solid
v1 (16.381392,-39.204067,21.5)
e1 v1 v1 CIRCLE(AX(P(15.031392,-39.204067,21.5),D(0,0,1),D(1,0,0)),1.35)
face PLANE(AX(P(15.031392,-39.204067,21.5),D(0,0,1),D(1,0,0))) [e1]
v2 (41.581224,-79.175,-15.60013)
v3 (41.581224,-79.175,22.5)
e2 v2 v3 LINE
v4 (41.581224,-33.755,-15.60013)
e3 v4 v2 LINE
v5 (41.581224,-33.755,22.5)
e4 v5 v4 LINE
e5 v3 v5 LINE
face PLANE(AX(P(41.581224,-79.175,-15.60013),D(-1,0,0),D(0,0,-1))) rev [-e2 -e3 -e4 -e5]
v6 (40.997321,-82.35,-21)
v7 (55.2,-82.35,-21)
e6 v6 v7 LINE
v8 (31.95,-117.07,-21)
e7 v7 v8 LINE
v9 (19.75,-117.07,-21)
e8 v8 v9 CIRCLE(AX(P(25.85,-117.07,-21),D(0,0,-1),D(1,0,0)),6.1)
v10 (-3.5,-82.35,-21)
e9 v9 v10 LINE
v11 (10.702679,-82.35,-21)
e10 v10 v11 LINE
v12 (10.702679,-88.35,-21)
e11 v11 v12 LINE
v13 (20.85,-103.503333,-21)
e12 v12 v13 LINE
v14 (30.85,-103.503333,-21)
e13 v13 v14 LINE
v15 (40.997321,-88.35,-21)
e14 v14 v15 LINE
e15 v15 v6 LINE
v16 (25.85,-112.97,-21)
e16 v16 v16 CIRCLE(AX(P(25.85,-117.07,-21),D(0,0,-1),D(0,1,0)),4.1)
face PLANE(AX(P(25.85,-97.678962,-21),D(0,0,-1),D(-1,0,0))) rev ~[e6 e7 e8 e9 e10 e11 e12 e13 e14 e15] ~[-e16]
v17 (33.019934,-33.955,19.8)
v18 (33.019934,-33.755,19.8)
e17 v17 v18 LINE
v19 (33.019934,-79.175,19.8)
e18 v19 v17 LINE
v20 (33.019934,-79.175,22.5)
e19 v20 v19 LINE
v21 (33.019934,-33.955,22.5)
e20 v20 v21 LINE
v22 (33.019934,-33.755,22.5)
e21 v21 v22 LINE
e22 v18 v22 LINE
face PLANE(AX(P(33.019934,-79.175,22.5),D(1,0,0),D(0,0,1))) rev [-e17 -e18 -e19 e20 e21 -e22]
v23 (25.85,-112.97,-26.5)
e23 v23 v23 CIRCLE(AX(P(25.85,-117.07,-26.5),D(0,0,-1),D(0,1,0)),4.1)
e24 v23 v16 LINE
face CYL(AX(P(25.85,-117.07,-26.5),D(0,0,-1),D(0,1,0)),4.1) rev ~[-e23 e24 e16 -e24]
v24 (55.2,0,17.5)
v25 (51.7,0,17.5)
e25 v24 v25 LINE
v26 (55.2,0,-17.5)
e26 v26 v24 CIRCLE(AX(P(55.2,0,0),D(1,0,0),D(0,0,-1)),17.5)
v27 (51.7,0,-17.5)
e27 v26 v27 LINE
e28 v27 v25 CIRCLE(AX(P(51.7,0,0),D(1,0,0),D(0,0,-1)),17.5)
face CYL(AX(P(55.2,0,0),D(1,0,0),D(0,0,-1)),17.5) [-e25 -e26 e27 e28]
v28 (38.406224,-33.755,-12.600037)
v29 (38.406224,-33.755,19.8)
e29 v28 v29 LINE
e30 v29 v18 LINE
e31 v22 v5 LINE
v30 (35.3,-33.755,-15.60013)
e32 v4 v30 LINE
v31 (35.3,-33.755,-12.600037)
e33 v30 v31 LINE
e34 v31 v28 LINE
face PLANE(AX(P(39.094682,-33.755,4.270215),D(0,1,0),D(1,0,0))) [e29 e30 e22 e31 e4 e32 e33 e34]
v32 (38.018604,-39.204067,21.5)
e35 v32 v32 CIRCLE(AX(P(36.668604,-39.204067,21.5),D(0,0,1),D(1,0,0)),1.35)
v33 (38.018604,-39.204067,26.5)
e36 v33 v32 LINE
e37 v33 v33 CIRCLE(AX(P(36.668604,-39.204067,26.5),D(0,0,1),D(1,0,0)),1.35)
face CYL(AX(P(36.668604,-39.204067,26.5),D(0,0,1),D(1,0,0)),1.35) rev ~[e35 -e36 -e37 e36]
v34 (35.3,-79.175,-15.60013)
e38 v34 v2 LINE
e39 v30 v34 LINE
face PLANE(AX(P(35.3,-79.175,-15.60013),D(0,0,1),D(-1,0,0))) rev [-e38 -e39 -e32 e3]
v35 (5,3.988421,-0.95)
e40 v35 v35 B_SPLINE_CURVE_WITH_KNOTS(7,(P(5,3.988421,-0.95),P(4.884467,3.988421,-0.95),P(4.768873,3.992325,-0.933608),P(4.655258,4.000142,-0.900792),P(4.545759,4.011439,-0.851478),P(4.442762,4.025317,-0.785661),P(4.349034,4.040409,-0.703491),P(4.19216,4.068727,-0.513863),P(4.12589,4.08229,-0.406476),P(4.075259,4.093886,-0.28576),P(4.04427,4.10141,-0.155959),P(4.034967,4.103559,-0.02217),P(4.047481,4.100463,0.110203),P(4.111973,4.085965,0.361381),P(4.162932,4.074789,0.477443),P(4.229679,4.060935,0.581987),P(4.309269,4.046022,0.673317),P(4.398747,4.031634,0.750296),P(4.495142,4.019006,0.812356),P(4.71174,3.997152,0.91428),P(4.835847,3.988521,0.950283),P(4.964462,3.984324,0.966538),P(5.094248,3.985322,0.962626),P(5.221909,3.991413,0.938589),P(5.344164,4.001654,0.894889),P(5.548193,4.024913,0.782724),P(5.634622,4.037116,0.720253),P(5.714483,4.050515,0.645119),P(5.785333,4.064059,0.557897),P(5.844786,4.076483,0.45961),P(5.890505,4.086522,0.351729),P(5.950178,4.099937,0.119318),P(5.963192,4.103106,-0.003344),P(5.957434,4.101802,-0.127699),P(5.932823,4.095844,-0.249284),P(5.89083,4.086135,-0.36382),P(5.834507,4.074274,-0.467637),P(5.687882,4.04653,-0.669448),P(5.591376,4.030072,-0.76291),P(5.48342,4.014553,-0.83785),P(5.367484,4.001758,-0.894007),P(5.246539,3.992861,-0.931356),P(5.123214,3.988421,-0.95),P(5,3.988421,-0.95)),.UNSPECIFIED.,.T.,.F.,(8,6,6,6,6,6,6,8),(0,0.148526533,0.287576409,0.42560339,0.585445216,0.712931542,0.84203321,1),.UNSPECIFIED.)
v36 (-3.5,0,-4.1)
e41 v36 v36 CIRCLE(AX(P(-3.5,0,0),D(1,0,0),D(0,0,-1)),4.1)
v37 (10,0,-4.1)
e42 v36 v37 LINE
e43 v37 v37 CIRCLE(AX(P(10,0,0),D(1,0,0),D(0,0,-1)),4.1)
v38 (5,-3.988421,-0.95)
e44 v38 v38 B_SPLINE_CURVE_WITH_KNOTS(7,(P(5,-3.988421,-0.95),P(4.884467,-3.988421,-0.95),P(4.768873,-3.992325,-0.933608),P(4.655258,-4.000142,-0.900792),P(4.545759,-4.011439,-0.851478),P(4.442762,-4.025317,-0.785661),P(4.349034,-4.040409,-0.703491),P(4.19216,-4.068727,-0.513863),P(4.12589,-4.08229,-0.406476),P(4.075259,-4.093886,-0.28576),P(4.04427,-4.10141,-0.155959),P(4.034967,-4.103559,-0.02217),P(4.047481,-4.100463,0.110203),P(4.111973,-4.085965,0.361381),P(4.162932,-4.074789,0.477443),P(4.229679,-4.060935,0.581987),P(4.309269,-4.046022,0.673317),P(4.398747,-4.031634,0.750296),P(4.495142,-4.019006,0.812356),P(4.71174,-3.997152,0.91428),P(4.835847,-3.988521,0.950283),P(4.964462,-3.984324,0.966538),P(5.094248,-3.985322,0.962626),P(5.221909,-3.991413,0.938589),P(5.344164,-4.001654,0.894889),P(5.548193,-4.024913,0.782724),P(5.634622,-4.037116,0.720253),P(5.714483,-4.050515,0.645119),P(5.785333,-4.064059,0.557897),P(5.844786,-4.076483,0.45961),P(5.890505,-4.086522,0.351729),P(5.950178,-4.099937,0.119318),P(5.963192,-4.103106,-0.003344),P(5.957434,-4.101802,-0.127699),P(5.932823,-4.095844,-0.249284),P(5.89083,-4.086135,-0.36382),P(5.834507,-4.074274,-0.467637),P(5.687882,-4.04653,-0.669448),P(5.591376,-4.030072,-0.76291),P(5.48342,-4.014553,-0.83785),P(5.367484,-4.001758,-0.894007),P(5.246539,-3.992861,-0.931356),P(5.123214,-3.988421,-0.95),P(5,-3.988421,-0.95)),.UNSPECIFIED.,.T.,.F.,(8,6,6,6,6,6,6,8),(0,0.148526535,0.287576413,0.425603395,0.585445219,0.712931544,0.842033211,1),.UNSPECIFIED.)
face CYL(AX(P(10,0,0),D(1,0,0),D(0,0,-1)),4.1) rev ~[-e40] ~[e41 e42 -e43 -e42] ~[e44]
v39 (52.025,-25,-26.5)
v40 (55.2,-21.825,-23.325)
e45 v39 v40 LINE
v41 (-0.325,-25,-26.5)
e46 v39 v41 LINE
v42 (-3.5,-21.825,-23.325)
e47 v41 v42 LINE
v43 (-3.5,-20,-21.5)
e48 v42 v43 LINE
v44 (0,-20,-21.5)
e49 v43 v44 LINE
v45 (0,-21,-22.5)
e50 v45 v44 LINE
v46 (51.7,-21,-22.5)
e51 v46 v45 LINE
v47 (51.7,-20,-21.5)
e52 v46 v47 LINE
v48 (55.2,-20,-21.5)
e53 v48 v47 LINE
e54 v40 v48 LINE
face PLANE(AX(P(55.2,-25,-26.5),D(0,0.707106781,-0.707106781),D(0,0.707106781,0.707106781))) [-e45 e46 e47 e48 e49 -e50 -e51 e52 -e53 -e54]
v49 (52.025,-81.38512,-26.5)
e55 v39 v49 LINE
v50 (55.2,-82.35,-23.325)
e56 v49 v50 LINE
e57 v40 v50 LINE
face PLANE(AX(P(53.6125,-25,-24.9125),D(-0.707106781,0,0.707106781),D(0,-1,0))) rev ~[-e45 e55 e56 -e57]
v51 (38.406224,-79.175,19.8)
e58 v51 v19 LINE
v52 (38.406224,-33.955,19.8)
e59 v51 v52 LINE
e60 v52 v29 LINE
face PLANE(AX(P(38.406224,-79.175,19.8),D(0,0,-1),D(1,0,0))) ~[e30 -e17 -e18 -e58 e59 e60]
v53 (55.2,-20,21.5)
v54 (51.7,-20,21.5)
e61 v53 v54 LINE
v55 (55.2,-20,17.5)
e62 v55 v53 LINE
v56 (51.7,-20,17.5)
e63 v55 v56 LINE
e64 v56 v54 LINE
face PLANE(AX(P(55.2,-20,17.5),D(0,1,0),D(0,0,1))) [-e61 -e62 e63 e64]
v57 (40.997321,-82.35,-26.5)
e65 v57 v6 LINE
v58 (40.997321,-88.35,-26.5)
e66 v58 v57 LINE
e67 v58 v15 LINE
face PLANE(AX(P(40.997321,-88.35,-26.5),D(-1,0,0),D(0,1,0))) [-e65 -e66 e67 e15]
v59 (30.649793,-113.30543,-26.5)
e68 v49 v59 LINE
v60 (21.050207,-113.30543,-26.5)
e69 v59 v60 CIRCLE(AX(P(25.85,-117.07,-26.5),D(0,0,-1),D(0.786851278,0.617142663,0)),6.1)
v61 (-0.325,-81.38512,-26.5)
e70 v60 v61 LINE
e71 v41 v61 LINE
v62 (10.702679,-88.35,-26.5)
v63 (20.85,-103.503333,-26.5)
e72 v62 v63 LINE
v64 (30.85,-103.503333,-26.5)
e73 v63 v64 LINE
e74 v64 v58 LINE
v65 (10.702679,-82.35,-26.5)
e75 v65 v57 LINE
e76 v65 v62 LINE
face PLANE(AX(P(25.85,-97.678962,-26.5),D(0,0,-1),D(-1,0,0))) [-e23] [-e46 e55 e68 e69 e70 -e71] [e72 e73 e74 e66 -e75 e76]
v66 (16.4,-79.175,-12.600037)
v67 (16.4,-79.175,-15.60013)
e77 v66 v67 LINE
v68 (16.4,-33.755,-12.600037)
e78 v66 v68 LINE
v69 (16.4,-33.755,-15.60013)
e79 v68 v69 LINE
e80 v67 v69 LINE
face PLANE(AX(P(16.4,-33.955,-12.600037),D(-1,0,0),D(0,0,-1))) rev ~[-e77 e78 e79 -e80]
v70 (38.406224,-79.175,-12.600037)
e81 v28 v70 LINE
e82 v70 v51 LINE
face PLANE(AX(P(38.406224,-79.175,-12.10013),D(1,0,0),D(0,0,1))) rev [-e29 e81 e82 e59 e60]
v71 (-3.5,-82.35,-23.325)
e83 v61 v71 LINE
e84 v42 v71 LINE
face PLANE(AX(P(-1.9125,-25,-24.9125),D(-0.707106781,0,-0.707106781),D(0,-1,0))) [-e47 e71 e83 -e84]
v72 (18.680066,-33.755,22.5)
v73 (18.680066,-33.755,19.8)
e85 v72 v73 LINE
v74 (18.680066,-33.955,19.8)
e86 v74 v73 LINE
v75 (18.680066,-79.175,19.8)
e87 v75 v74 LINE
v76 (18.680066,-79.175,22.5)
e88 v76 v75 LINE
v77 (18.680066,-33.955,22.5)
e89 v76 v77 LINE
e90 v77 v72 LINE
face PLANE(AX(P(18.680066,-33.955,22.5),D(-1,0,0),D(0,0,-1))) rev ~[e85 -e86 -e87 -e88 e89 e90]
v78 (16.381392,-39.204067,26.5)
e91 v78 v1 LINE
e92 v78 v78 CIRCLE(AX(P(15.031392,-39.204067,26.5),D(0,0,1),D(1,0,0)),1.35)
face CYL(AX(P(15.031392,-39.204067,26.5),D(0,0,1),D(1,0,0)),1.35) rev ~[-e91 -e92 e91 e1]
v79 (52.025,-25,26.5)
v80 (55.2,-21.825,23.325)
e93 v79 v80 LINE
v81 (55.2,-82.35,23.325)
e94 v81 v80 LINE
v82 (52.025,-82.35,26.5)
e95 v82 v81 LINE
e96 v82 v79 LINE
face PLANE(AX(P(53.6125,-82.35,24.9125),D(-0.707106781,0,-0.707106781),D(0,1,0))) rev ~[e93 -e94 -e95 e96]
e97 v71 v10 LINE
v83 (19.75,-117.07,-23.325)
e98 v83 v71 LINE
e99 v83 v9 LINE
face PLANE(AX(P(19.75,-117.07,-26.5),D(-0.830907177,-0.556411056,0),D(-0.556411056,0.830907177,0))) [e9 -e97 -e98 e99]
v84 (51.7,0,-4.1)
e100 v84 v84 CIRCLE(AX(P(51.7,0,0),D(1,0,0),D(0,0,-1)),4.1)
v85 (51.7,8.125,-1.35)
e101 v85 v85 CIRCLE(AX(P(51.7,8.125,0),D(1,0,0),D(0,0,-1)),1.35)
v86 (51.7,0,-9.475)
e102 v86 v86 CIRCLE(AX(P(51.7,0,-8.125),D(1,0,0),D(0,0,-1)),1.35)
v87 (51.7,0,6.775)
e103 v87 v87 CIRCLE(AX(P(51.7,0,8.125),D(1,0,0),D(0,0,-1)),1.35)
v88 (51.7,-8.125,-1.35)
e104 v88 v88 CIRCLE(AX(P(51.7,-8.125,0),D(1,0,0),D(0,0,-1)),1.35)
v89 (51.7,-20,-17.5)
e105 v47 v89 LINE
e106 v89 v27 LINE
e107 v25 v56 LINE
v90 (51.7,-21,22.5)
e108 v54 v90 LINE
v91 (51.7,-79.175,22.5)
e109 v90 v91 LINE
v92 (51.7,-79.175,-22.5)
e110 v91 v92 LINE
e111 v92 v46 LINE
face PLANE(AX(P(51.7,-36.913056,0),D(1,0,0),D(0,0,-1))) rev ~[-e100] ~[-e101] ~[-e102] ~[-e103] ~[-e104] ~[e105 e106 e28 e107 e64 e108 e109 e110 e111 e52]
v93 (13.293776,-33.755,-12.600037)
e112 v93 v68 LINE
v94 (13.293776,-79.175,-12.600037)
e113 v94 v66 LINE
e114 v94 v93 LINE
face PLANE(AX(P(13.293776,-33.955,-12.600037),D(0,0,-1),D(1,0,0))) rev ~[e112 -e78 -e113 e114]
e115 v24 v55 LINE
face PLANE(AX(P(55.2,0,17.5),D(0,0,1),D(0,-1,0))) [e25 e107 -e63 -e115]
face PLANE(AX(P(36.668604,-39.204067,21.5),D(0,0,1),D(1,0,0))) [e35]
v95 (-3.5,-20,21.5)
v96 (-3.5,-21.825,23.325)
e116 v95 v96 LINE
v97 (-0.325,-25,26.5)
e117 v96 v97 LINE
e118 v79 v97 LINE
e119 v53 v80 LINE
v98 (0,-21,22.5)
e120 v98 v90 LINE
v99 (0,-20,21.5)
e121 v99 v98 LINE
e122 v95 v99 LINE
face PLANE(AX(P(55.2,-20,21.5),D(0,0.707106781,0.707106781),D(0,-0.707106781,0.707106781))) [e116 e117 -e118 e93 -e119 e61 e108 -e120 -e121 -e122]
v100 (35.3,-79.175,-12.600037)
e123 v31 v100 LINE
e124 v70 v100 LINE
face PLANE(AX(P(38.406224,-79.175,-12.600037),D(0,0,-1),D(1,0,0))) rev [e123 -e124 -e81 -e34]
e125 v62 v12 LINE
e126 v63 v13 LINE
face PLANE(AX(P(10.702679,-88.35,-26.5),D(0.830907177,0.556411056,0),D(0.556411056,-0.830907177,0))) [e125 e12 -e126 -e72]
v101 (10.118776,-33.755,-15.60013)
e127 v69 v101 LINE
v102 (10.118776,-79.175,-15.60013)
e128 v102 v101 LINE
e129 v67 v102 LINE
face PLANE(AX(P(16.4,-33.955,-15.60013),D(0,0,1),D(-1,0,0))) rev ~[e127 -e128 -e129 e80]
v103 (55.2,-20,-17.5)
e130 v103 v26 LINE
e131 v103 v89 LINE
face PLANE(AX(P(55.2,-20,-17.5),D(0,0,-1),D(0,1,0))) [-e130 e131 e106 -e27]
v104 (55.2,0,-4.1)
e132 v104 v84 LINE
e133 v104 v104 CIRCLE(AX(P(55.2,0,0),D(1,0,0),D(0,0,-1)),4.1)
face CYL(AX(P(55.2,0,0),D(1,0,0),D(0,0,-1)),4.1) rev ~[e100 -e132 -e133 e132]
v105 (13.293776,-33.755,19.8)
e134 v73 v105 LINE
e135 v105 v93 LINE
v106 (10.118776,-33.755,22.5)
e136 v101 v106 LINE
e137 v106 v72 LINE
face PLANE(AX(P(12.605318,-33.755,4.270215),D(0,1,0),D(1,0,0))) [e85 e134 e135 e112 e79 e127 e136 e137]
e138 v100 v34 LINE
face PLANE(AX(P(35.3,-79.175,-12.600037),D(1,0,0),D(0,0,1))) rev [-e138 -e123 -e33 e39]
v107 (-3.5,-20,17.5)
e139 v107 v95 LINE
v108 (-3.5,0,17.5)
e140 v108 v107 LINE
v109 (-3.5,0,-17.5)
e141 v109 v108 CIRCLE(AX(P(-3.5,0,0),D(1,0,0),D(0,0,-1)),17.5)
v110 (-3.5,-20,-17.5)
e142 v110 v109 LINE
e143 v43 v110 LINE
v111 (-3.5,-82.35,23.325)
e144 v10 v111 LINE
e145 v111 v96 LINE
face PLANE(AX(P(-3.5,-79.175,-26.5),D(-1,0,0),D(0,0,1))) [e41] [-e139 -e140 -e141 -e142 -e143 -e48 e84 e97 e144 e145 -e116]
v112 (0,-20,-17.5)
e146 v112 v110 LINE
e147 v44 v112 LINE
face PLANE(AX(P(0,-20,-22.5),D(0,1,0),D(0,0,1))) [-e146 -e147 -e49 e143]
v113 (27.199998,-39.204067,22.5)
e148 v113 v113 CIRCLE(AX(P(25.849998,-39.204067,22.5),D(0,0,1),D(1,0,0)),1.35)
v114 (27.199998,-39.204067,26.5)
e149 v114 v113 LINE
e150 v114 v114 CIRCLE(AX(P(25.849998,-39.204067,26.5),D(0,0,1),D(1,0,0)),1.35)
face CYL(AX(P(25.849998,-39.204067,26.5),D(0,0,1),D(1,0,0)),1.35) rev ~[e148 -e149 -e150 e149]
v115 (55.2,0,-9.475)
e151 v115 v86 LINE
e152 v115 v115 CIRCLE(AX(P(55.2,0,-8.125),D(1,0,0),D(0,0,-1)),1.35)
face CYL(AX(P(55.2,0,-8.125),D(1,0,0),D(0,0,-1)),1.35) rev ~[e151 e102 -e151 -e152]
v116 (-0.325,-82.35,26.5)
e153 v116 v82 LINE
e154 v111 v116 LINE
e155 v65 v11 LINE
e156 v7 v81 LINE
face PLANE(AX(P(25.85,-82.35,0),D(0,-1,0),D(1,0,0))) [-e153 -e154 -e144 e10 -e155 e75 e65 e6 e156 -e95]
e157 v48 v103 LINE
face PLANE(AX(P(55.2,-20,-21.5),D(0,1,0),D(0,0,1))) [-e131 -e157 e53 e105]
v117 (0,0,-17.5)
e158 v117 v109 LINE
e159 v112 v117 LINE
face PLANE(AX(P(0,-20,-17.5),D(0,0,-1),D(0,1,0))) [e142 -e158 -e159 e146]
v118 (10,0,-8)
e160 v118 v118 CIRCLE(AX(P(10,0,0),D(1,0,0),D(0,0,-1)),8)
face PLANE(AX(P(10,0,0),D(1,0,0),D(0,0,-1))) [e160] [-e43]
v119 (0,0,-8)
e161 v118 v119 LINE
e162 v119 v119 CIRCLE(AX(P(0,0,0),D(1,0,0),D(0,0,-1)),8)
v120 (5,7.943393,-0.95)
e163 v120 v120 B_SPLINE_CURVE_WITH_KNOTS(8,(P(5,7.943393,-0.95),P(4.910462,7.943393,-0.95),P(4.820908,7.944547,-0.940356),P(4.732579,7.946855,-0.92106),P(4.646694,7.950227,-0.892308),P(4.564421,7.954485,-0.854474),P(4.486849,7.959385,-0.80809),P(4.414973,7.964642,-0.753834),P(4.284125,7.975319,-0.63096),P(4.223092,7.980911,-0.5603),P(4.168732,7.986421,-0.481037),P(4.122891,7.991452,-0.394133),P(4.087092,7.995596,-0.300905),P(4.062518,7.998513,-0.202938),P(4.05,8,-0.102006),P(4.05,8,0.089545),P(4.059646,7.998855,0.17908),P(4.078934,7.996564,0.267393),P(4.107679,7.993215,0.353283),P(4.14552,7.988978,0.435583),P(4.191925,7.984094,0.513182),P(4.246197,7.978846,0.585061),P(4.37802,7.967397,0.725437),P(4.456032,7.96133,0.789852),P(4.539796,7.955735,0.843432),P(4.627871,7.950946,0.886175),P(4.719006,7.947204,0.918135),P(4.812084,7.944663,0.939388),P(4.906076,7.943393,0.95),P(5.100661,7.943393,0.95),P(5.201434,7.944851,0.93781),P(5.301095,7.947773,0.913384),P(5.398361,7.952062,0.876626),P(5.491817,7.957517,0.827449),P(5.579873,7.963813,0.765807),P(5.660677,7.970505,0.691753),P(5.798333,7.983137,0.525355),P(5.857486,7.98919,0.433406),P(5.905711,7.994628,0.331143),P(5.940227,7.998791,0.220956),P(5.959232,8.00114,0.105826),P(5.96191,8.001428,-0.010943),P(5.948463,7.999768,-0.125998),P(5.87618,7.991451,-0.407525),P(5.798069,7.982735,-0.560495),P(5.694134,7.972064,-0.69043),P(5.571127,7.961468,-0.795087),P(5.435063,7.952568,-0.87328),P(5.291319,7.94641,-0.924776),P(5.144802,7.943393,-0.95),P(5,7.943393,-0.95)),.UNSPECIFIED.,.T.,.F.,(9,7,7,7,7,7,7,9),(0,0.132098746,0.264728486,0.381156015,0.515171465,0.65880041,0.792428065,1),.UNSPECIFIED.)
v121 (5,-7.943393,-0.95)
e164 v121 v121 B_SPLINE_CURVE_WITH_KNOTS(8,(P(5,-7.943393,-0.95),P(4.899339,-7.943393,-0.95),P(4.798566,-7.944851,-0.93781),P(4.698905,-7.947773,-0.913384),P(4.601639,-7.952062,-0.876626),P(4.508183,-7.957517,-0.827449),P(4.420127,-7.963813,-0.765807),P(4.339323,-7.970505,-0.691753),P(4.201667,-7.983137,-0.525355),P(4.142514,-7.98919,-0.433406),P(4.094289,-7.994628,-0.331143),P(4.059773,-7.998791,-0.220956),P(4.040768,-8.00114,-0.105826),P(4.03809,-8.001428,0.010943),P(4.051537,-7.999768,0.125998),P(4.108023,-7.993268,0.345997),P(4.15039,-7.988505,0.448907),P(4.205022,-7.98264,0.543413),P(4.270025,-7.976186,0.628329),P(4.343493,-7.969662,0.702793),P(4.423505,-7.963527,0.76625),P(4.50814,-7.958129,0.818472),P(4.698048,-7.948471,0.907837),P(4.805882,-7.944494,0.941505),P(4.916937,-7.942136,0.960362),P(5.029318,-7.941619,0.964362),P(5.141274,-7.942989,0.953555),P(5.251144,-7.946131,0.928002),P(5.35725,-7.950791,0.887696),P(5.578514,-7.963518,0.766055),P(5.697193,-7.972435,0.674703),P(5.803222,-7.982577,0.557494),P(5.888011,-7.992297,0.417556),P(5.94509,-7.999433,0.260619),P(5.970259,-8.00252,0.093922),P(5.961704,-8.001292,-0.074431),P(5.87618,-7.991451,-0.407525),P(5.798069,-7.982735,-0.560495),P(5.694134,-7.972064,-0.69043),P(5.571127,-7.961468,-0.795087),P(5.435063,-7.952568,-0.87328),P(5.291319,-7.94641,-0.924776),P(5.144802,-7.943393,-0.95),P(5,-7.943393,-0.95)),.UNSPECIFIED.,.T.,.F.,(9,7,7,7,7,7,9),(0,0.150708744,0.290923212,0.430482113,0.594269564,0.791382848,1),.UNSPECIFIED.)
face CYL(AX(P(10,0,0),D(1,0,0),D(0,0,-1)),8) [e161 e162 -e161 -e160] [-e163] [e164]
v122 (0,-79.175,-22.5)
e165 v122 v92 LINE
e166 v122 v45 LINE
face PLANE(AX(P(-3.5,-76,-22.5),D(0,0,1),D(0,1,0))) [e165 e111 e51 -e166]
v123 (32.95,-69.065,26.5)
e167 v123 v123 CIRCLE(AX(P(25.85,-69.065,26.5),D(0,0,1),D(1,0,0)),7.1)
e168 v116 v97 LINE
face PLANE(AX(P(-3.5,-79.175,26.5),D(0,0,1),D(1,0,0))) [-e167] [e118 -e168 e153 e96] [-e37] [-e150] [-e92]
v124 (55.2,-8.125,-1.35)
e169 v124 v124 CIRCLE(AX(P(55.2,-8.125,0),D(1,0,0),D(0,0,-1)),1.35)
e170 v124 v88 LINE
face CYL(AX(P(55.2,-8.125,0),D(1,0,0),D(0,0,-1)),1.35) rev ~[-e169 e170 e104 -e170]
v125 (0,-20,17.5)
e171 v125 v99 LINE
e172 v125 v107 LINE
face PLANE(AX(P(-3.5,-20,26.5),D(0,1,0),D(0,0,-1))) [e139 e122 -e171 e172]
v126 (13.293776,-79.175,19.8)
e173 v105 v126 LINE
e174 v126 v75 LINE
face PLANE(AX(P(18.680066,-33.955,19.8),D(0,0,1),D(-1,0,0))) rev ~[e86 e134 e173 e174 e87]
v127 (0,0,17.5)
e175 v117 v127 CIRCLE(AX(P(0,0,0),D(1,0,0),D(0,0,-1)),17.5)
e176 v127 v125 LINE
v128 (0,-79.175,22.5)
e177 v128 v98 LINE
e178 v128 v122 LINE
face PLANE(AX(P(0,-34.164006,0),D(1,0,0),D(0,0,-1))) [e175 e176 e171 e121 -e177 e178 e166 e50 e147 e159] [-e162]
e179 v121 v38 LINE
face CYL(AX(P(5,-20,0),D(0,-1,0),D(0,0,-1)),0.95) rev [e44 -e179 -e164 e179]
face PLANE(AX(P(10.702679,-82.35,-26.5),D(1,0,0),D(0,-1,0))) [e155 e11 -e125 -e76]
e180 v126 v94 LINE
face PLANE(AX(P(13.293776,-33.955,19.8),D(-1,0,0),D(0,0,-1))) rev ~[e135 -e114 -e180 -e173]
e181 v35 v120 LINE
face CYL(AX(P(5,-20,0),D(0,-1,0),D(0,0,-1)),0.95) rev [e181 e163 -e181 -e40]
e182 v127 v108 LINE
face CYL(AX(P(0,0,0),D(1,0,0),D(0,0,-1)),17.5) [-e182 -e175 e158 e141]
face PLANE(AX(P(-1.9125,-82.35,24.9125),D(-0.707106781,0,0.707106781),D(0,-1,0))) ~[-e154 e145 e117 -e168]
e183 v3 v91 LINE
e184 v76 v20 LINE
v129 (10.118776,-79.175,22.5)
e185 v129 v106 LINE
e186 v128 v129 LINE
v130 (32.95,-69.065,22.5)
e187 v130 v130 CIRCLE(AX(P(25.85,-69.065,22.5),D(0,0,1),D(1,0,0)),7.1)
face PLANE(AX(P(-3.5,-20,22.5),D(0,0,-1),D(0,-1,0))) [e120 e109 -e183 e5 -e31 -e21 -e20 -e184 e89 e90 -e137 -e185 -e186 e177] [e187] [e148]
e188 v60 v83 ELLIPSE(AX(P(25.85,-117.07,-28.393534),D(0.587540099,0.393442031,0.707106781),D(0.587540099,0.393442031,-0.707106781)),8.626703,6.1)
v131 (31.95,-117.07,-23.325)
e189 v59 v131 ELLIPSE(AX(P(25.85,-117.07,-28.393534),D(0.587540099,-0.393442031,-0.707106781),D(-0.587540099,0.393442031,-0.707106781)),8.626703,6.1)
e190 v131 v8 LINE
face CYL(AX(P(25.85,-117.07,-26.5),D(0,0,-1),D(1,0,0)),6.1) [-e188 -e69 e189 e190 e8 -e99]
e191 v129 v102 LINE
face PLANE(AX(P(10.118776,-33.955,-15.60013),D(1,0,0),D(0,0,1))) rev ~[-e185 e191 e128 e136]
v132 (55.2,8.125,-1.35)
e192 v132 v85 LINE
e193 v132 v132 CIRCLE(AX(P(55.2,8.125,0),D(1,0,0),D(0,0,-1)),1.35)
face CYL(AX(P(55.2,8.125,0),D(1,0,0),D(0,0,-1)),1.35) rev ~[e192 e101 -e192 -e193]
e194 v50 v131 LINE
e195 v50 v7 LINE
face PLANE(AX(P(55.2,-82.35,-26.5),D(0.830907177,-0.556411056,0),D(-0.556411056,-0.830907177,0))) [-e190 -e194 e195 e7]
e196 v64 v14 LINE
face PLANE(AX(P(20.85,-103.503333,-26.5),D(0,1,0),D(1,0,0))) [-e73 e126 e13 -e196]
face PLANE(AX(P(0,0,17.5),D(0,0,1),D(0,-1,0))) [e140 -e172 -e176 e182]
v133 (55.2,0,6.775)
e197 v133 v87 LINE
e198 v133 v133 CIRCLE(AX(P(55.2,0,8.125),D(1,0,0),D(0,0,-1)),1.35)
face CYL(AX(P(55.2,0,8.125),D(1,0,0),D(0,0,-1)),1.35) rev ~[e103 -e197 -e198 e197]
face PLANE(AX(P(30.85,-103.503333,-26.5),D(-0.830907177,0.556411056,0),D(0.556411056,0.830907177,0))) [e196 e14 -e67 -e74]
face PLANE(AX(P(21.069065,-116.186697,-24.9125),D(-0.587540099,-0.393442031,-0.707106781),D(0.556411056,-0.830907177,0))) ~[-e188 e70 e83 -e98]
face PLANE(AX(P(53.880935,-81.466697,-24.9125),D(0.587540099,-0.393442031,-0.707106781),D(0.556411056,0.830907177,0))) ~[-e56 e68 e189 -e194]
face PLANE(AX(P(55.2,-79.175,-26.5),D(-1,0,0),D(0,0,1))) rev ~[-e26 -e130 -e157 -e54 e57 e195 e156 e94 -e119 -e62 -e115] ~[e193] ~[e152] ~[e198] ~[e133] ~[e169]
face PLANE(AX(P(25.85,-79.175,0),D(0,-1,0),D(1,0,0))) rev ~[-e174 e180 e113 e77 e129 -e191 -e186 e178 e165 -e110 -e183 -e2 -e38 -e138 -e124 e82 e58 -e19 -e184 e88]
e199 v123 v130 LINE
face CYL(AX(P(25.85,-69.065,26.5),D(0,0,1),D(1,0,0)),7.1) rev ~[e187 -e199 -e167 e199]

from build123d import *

# Parameters (mm, degrees)
SKETCH1_R                = 4.1
BOSS_EXTRUDE1_DEPTH      = 3.5
BOSS_EXTRUDE2_DEPTH      = 51.7
BOSS_EXTRUDE2_DEPTH_BACK = 3.5
CHAMFER2_SIZE            = 5
CUT_EXTRUDE1_REACH       = 112.079
SKETCH4_W                = 51.7
SKETCH4_H                = 45
BOSS_EXTRUDE3_START      = 3.5
SKETCH5_R                = 4.1
BOSS_EXTRUDE3_DEPTH      = 3.5
CUT_EXTRUDE3_REACH       = 104.062
SKETCH9_R                = 1.35
SKETCH10_W               = 58.7
SKETCH10_H               = 53
BOSS_EXTRUDE5_DEPTH      = 3.175
SKETCH26_R               = 7.1
CUT_EXTRUDE6_DEPTH       = 4
SKETCH27_W               = 3.175
SKETCH27_H               = 34.600130378
BOSS_EXTRUDE6_DEPTH      = 45.22
SKETCH29_R               = 4.1
BOSS_EXTRUDE8_DEPTH      = 5.5
CHAMFER3_SIZE            = 3.175
BOSS_EXTRUDE9_START      = 10
SKETCH30_R               = 8
SKETCH30_R_2             = 4.1
BOSS_EXTRUDE9_DEPTH      = 10
SKETCH31_R               = 0.95
CUT_EXTRUDE7_DEPTH       = 120.972242206
BOSS_EXTRUDE10_DEPTH     = 45.22
SKETCH33_W               = 5.386290257
SKETCH33_H               = 2.7
BOSS_EXTRUDE11_DEPTH     = 45.22
BOSS_EXTRUDE12_DEPTH     = 0.2
SKETCH35_R               = 1.35
CUT_EXTRUDE8_DEPTH       = 5


with BuildPart() as part:
    # Sketch1 → Boss-Extrude1 (new body)
    with BuildSketch(Plane(origin=(0, 0, 0), x_dir=(0, 0, -1), z_dir=(1, 0, 0))):
        with BuildLine():
            Line((-17.5, 0), (-17.5, -20))
            Line((-17.5, -20), (-22.5, -20))
            Line((-22.5, -20), (-22.5, -76))
            Line((-22.5, -76), (22.5, -76))
            Line((22.5, -76), (22.5, -20))
            Line((22.5, -20), (17.5, -20))
            Line((17.5, -20), (17.5, 0))
            ThreePointArc((17.5, 0), (0, 17.5), (-17.5, 0))
        make_face()
        Circle(SKETCH1_R, mode=Mode.SUBTRACT)
    extrude(amount=-BOSS_EXTRUDE1_DEPTH)

    # Sketch2 → Boss-Extrude2 (add, two sides: drawn at the far end of the back side and taken through both)
    with BuildSketch(Plane(origin=(0, 0, 0), x_dir=(0, 0, -1), z_dir=(1, 0, 0)).offset(-BOSS_EXTRUDE2_DEPTH_BACK)):
        Polygon((-22.5, -20), (-22.5, -76), (22.5, -76), (22.5, -20), (26.5, -20), (26.5, -79.175), (-26.5, -79.175), (-26.5, -20), align=None)
    extrude(amount=BOSS_EXTRUDE2_DEPTH + BOSS_EXTRUDE2_DEPTH_BACK)

    # Chamfer2
    chamfer2_edges = [part.edges().sort_by_distance(p)[0] for p in [
        (24.1, -20, -26.5),
        (24.1, -20, 26.5),
    ]]
    chamfer(chamfer2_edges, length=CHAMFER2_SIZE)

    # Sketch4 → Cut-Extrude1 (cut, up to next)
    with BuildSketch(Plane(origin=(0, -76, 0), x_dir=(1, 0, 0), z_dir=(0, 1, 0)), mode=Mode.PRIVATE) as cut_extrude1_sk1:
        with Locations((25.85, 0)):
            Rectangle(SKETCH4_W, SKETCH4_H)
    cut_extrude1_tool1 = extrude(cut_extrude1_sk1.sketch, amount=-CUT_EXTRUDE1_REACH, mode=Mode.PRIVATE) & part.part
    add(cut_extrude1_tool1.solids().sort_by_distance((25.85, -76, 0))[0], mode=Mode.SUBTRACT)

    # Sketch5 → Boss-Extrude3 (add)
    with BuildSketch(Plane(origin=(51.7, 0, 0), x_dir=(0, 0, -1), z_dir=(1, 0, 0)).offset(BOSS_EXTRUDE3_START)):
        with BuildLine():
            Line((21.5, -20), (17.5, -20))
            Line((17.5, -20), (17.5, 0))
            ThreePointArc((17.5, 0), (0, 17.5), (-17.5, 0))
            Line((-17.5, 0), (-17.5, -20))
            Line((-17.5, -20), (-21.5, -20))
            Line((-21.5, -20), (-26.5, -25))
            Line((-26.5, -25), (-26.5, -79.175))
            Line((-26.5, -79.175), (26.5, -79.175))
            Line((26.5, -79.175), (26.5, -25))
            Line((26.5, -25), (21.5, -20))
        make_face()
        Circle(SKETCH5_R, mode=Mode.SUBTRACT)
    extrude(amount=-BOSS_EXTRUDE3_DEPTH)

    # Sketch9 → Cut-Extrude3 (cut, up to next)
    with BuildSketch(Plane(origin=(55.2, 0, 0), x_dir=(0, 0, -1), z_dir=(1, 0, 0)), mode=Mode.PRIVATE) as cut_extrude3_sk1:
        with Locations((0, 8.125)):
            Circle(SKETCH9_R)
    cut_extrude3_tool1 = extrude(cut_extrude3_sk1.sketch, amount=-CUT_EXTRUDE3_REACH, mode=Mode.PRIVATE) & part.part
    # Sketch9 → Cut-Extrude3 (cut, up to next)
    with BuildSketch(Plane(origin=(55.2, 0, 0), x_dir=(0, 0, -1), z_dir=(1, 0, 0)), mode=Mode.PRIVATE) as cut_extrude3_sk2:
        with Locations((8.125, 0)):
            Circle(SKETCH9_R)
    cut_extrude3_tool2 = extrude(cut_extrude3_sk2.sketch, amount=-CUT_EXTRUDE3_REACH, mode=Mode.PRIVATE) & part.part
    # Sketch9 → Cut-Extrude3 (cut, up to next)
    with BuildSketch(Plane(origin=(55.2, 0, 0), x_dir=(0, 0, -1), z_dir=(1, 0, 0)), mode=Mode.PRIVATE) as cut_extrude3_sk3:
        with Locations((0, -8.125)):
            Circle(SKETCH9_R)
    cut_extrude3_tool3 = extrude(cut_extrude3_sk3.sketch, amount=-CUT_EXTRUDE3_REACH, mode=Mode.PRIVATE) & part.part
    # Sketch9 → Cut-Extrude3 (cut, up to next)
    with BuildSketch(Plane(origin=(55.2, 0, 0), x_dir=(0, 0, -1), z_dir=(1, 0, 0)), mode=Mode.PRIVATE) as cut_extrude3_sk4:
        with Locations((-8.125, 0)):
            Circle(SKETCH9_R)
    cut_extrude3_tool4 = extrude(cut_extrude3_sk4.sketch, amount=-CUT_EXTRUDE3_REACH, mode=Mode.PRIVATE) & part.part
    add(cut_extrude3_tool1.solids().sort_by_distance((55.2, 8.125, 0))[0], mode=Mode.SUBTRACT)
    add(cut_extrude3_tool2.solids().sort_by_distance((55.2, 0, -8.125))[0], mode=Mode.SUBTRACT)
    add(cut_extrude3_tool3.solids().sort_by_distance((55.2, -8.125, 0))[0], mode=Mode.SUBTRACT)
    add(cut_extrude3_tool4.solids().sort_by_distance((55.2, 0, 8.125))[0], mode=Mode.SUBTRACT)

    # Sketch10 → Boss-Extrude5 (add)
    with BuildSketch(Plane.XZ.offset(79.175)):
        with Locations((25.85, 0)):
            Rectangle(SKETCH10_W, SKETCH10_H)
    extrude(amount=BOSS_EXTRUDE5_DEPTH)

    # Sketch26 → Cut-Extrude6 (cut)
    with BuildSketch(Plane.XY.offset(26.5)):
        with Locations((25.85, -69.065)):
            Circle(SKETCH26_R)
    extrude(amount=-CUT_EXTRUDE6_DEPTH, mode=Mode.SUBTRACT)

    # Sketch27 → Boss-Extrude6 (add)
    with BuildSketch(Plane(origin=(0, -79.175, 0), x_dir=(1, 0, 0), z_dir=(0, 1, 0))):
        with Locations((39.993724488, -5.199934811)):
            Rectangle(SKETCH27_W, SKETCH27_H)
        with Locations((11.706275512, -5.199934811)):
            Rectangle(SKETCH27_W, SKETCH27_H)
    extrude(amount=BOSS_EXTRUDE6_DEPTH)

    # Sketch29 → Boss-Extrude8 (add)
    with BuildSketch(Plane(origin=(0, 0, -26.5), x_dir=(-1, 0, 0), z_dir=(0, 0, -1))):
        with BuildLine():
            Line((-40.997321429, -82.35), (-55.2, -82.35))
            Line((-55.2, -82.35), (-31.95, -117.07))
            ThreePointArc((-31.95, -117.07), (-25.85, -123.17), (-19.75, -117.07))
            Line((-19.75, -117.07), (3.5, -82.35))
            Line((3.5, -82.35), (-10.702678571, -82.35))
            Line((-10.702678571, -82.35), (-10.702678571, -88.35))
            Line((-10.702678571, -88.35), (-20.85, -103.503333333))
            Line((-20.85, -103.503333333), (-30.85, -103.503333333))
            Line((-30.85, -103.503333333), (-40.997321429, -88.35))
            Line((-40.997321429, -88.35), (-40.997321429, -82.35))
        make_face()
        with Locations(Location((-25.85, -117.07, 0), (0, 0, 90))):
            Circle(SKETCH29_R, mode=Mode.SUBTRACT)
    extrude(amount=-BOSS_EXTRUDE8_DEPTH)

    # Chamfer3
    chamfer3_edges = [part.edges().sort_by_distance(p)[0] for p in [
        (43.575, -99.71, -26.5),
        (8.125, -99.71, -26.5),
        (-3.5, -53.675, -26.5),
        (-3.5, -53.675, 26.5),
        (55.2, -53.675, 26.5),
        (55.2, -53.675, -26.5),
    ]]
    chamfer(chamfer3_edges, length=CHAMFER3_SIZE)

    # Sketch30 → Boss-Extrude9 (add)
    with BuildSketch(Plane(origin=(0, 0, 0), x_dir=(0, 0, -1), z_dir=(1, 0, 0)).offset(BOSS_EXTRUDE9_START)):
        Circle(SKETCH30_R)
        Circle(SKETCH30_R_2, mode=Mode.SUBTRACT)
    extrude(amount=-BOSS_EXTRUDE9_DEPTH)

    # Sketch31 → Cut-Extrude7 (cut, through all)
    with BuildSketch(Plane(origin=(0, -20, 0), x_dir=(1, 0, 0), z_dir=(0, 1, 0))):
        with Locations(Location((5, 0, 0), (0, 0, 90))):
            Circle(SKETCH31_R)
    extrude(amount=CUT_EXTRUDE7_DEPTH, mode=Mode.SUBTRACT)

    # Sketch32 → Boss-Extrude10 (add)
    with BuildSketch(Plane(origin=(0, -79.175, 0), x_dir=(1, 0, 0), z_dir=(0, 1, 0))):
        Polygon((13.293775512, 12.600036526), (16.4, 12.600036526), (16.4, 15.600130378), (10.118775512, 15.600130378), (10.118775512, 12.100130378), (13.293775512, 12.100130378), align=None)
    boss_extrude10 = extrude(amount=BOSS_EXTRUDE10_DEPTH)

    # Sketch33 → Boss-Extrude11 (add)
    with BuildSketch(Plane(origin=(0, -79.175, 0), x_dir=(1, 0, 0), z_dir=(0, 1, 0))):
        with Locations((15.986920641, -21.15)):
            Rectangle(SKETCH33_W, SKETCH33_H)
    boss_extrude11 = extrude(amount=BOSS_EXTRUDE11_DEPTH)

    # Mirror1: Boss-Extrude10, Boss-Extrude11 across plane
    add(boss_extrude10.mirror(Plane.ZY.offset(-25.85)))
    add(boss_extrude11.mirror(Plane.ZY.offset(-25.85)))

    # Sketch34 → Boss-Extrude12 (add)
    with BuildSketch(Plane(origin=(0, -33.955, 0), x_dir=(1, 0, 0), z_dir=(0, 1, 0))):
        Polygon((13.293775512, -19.8), (13.293775512, 12.600036526), (16.4, 12.600036526), (16.4, 15.600130378), (10.118775512, 15.600130378), (10.118775512, -22.5), (18.680065769, -22.5), (18.680065769, -19.8), align=None)
        Polygon((41.581224488, -22.5), (41.581224488, 15.600130378), (35.3, 15.600130378), (35.3, 12.600036526), (38.406224488, 12.600036526), (38.406224488, -19.8), (33.019934231, -19.8), (33.019934231, -22.5), align=None)
    extrude(amount=BOSS_EXTRUDE12_DEPTH)

    # Sketch35 → Cut-Extrude8 (cut)
    with BuildSketch(Plane.XY.offset(26.5)):
        with Locations((36.668603525, -39.204067417)):
            Circle(SKETCH35_R)
        with Locations((25.849997965, -39.204067417)):
            Circle(SKETCH35_R)
        with Locations((15.031392404, -39.204067417)):
            Circle(SKETCH35_R)
    extrude(amount=-CUT_EXTRUDE8_DEPTH, mode=Mode.SUBTRACT)


solid = part.part
